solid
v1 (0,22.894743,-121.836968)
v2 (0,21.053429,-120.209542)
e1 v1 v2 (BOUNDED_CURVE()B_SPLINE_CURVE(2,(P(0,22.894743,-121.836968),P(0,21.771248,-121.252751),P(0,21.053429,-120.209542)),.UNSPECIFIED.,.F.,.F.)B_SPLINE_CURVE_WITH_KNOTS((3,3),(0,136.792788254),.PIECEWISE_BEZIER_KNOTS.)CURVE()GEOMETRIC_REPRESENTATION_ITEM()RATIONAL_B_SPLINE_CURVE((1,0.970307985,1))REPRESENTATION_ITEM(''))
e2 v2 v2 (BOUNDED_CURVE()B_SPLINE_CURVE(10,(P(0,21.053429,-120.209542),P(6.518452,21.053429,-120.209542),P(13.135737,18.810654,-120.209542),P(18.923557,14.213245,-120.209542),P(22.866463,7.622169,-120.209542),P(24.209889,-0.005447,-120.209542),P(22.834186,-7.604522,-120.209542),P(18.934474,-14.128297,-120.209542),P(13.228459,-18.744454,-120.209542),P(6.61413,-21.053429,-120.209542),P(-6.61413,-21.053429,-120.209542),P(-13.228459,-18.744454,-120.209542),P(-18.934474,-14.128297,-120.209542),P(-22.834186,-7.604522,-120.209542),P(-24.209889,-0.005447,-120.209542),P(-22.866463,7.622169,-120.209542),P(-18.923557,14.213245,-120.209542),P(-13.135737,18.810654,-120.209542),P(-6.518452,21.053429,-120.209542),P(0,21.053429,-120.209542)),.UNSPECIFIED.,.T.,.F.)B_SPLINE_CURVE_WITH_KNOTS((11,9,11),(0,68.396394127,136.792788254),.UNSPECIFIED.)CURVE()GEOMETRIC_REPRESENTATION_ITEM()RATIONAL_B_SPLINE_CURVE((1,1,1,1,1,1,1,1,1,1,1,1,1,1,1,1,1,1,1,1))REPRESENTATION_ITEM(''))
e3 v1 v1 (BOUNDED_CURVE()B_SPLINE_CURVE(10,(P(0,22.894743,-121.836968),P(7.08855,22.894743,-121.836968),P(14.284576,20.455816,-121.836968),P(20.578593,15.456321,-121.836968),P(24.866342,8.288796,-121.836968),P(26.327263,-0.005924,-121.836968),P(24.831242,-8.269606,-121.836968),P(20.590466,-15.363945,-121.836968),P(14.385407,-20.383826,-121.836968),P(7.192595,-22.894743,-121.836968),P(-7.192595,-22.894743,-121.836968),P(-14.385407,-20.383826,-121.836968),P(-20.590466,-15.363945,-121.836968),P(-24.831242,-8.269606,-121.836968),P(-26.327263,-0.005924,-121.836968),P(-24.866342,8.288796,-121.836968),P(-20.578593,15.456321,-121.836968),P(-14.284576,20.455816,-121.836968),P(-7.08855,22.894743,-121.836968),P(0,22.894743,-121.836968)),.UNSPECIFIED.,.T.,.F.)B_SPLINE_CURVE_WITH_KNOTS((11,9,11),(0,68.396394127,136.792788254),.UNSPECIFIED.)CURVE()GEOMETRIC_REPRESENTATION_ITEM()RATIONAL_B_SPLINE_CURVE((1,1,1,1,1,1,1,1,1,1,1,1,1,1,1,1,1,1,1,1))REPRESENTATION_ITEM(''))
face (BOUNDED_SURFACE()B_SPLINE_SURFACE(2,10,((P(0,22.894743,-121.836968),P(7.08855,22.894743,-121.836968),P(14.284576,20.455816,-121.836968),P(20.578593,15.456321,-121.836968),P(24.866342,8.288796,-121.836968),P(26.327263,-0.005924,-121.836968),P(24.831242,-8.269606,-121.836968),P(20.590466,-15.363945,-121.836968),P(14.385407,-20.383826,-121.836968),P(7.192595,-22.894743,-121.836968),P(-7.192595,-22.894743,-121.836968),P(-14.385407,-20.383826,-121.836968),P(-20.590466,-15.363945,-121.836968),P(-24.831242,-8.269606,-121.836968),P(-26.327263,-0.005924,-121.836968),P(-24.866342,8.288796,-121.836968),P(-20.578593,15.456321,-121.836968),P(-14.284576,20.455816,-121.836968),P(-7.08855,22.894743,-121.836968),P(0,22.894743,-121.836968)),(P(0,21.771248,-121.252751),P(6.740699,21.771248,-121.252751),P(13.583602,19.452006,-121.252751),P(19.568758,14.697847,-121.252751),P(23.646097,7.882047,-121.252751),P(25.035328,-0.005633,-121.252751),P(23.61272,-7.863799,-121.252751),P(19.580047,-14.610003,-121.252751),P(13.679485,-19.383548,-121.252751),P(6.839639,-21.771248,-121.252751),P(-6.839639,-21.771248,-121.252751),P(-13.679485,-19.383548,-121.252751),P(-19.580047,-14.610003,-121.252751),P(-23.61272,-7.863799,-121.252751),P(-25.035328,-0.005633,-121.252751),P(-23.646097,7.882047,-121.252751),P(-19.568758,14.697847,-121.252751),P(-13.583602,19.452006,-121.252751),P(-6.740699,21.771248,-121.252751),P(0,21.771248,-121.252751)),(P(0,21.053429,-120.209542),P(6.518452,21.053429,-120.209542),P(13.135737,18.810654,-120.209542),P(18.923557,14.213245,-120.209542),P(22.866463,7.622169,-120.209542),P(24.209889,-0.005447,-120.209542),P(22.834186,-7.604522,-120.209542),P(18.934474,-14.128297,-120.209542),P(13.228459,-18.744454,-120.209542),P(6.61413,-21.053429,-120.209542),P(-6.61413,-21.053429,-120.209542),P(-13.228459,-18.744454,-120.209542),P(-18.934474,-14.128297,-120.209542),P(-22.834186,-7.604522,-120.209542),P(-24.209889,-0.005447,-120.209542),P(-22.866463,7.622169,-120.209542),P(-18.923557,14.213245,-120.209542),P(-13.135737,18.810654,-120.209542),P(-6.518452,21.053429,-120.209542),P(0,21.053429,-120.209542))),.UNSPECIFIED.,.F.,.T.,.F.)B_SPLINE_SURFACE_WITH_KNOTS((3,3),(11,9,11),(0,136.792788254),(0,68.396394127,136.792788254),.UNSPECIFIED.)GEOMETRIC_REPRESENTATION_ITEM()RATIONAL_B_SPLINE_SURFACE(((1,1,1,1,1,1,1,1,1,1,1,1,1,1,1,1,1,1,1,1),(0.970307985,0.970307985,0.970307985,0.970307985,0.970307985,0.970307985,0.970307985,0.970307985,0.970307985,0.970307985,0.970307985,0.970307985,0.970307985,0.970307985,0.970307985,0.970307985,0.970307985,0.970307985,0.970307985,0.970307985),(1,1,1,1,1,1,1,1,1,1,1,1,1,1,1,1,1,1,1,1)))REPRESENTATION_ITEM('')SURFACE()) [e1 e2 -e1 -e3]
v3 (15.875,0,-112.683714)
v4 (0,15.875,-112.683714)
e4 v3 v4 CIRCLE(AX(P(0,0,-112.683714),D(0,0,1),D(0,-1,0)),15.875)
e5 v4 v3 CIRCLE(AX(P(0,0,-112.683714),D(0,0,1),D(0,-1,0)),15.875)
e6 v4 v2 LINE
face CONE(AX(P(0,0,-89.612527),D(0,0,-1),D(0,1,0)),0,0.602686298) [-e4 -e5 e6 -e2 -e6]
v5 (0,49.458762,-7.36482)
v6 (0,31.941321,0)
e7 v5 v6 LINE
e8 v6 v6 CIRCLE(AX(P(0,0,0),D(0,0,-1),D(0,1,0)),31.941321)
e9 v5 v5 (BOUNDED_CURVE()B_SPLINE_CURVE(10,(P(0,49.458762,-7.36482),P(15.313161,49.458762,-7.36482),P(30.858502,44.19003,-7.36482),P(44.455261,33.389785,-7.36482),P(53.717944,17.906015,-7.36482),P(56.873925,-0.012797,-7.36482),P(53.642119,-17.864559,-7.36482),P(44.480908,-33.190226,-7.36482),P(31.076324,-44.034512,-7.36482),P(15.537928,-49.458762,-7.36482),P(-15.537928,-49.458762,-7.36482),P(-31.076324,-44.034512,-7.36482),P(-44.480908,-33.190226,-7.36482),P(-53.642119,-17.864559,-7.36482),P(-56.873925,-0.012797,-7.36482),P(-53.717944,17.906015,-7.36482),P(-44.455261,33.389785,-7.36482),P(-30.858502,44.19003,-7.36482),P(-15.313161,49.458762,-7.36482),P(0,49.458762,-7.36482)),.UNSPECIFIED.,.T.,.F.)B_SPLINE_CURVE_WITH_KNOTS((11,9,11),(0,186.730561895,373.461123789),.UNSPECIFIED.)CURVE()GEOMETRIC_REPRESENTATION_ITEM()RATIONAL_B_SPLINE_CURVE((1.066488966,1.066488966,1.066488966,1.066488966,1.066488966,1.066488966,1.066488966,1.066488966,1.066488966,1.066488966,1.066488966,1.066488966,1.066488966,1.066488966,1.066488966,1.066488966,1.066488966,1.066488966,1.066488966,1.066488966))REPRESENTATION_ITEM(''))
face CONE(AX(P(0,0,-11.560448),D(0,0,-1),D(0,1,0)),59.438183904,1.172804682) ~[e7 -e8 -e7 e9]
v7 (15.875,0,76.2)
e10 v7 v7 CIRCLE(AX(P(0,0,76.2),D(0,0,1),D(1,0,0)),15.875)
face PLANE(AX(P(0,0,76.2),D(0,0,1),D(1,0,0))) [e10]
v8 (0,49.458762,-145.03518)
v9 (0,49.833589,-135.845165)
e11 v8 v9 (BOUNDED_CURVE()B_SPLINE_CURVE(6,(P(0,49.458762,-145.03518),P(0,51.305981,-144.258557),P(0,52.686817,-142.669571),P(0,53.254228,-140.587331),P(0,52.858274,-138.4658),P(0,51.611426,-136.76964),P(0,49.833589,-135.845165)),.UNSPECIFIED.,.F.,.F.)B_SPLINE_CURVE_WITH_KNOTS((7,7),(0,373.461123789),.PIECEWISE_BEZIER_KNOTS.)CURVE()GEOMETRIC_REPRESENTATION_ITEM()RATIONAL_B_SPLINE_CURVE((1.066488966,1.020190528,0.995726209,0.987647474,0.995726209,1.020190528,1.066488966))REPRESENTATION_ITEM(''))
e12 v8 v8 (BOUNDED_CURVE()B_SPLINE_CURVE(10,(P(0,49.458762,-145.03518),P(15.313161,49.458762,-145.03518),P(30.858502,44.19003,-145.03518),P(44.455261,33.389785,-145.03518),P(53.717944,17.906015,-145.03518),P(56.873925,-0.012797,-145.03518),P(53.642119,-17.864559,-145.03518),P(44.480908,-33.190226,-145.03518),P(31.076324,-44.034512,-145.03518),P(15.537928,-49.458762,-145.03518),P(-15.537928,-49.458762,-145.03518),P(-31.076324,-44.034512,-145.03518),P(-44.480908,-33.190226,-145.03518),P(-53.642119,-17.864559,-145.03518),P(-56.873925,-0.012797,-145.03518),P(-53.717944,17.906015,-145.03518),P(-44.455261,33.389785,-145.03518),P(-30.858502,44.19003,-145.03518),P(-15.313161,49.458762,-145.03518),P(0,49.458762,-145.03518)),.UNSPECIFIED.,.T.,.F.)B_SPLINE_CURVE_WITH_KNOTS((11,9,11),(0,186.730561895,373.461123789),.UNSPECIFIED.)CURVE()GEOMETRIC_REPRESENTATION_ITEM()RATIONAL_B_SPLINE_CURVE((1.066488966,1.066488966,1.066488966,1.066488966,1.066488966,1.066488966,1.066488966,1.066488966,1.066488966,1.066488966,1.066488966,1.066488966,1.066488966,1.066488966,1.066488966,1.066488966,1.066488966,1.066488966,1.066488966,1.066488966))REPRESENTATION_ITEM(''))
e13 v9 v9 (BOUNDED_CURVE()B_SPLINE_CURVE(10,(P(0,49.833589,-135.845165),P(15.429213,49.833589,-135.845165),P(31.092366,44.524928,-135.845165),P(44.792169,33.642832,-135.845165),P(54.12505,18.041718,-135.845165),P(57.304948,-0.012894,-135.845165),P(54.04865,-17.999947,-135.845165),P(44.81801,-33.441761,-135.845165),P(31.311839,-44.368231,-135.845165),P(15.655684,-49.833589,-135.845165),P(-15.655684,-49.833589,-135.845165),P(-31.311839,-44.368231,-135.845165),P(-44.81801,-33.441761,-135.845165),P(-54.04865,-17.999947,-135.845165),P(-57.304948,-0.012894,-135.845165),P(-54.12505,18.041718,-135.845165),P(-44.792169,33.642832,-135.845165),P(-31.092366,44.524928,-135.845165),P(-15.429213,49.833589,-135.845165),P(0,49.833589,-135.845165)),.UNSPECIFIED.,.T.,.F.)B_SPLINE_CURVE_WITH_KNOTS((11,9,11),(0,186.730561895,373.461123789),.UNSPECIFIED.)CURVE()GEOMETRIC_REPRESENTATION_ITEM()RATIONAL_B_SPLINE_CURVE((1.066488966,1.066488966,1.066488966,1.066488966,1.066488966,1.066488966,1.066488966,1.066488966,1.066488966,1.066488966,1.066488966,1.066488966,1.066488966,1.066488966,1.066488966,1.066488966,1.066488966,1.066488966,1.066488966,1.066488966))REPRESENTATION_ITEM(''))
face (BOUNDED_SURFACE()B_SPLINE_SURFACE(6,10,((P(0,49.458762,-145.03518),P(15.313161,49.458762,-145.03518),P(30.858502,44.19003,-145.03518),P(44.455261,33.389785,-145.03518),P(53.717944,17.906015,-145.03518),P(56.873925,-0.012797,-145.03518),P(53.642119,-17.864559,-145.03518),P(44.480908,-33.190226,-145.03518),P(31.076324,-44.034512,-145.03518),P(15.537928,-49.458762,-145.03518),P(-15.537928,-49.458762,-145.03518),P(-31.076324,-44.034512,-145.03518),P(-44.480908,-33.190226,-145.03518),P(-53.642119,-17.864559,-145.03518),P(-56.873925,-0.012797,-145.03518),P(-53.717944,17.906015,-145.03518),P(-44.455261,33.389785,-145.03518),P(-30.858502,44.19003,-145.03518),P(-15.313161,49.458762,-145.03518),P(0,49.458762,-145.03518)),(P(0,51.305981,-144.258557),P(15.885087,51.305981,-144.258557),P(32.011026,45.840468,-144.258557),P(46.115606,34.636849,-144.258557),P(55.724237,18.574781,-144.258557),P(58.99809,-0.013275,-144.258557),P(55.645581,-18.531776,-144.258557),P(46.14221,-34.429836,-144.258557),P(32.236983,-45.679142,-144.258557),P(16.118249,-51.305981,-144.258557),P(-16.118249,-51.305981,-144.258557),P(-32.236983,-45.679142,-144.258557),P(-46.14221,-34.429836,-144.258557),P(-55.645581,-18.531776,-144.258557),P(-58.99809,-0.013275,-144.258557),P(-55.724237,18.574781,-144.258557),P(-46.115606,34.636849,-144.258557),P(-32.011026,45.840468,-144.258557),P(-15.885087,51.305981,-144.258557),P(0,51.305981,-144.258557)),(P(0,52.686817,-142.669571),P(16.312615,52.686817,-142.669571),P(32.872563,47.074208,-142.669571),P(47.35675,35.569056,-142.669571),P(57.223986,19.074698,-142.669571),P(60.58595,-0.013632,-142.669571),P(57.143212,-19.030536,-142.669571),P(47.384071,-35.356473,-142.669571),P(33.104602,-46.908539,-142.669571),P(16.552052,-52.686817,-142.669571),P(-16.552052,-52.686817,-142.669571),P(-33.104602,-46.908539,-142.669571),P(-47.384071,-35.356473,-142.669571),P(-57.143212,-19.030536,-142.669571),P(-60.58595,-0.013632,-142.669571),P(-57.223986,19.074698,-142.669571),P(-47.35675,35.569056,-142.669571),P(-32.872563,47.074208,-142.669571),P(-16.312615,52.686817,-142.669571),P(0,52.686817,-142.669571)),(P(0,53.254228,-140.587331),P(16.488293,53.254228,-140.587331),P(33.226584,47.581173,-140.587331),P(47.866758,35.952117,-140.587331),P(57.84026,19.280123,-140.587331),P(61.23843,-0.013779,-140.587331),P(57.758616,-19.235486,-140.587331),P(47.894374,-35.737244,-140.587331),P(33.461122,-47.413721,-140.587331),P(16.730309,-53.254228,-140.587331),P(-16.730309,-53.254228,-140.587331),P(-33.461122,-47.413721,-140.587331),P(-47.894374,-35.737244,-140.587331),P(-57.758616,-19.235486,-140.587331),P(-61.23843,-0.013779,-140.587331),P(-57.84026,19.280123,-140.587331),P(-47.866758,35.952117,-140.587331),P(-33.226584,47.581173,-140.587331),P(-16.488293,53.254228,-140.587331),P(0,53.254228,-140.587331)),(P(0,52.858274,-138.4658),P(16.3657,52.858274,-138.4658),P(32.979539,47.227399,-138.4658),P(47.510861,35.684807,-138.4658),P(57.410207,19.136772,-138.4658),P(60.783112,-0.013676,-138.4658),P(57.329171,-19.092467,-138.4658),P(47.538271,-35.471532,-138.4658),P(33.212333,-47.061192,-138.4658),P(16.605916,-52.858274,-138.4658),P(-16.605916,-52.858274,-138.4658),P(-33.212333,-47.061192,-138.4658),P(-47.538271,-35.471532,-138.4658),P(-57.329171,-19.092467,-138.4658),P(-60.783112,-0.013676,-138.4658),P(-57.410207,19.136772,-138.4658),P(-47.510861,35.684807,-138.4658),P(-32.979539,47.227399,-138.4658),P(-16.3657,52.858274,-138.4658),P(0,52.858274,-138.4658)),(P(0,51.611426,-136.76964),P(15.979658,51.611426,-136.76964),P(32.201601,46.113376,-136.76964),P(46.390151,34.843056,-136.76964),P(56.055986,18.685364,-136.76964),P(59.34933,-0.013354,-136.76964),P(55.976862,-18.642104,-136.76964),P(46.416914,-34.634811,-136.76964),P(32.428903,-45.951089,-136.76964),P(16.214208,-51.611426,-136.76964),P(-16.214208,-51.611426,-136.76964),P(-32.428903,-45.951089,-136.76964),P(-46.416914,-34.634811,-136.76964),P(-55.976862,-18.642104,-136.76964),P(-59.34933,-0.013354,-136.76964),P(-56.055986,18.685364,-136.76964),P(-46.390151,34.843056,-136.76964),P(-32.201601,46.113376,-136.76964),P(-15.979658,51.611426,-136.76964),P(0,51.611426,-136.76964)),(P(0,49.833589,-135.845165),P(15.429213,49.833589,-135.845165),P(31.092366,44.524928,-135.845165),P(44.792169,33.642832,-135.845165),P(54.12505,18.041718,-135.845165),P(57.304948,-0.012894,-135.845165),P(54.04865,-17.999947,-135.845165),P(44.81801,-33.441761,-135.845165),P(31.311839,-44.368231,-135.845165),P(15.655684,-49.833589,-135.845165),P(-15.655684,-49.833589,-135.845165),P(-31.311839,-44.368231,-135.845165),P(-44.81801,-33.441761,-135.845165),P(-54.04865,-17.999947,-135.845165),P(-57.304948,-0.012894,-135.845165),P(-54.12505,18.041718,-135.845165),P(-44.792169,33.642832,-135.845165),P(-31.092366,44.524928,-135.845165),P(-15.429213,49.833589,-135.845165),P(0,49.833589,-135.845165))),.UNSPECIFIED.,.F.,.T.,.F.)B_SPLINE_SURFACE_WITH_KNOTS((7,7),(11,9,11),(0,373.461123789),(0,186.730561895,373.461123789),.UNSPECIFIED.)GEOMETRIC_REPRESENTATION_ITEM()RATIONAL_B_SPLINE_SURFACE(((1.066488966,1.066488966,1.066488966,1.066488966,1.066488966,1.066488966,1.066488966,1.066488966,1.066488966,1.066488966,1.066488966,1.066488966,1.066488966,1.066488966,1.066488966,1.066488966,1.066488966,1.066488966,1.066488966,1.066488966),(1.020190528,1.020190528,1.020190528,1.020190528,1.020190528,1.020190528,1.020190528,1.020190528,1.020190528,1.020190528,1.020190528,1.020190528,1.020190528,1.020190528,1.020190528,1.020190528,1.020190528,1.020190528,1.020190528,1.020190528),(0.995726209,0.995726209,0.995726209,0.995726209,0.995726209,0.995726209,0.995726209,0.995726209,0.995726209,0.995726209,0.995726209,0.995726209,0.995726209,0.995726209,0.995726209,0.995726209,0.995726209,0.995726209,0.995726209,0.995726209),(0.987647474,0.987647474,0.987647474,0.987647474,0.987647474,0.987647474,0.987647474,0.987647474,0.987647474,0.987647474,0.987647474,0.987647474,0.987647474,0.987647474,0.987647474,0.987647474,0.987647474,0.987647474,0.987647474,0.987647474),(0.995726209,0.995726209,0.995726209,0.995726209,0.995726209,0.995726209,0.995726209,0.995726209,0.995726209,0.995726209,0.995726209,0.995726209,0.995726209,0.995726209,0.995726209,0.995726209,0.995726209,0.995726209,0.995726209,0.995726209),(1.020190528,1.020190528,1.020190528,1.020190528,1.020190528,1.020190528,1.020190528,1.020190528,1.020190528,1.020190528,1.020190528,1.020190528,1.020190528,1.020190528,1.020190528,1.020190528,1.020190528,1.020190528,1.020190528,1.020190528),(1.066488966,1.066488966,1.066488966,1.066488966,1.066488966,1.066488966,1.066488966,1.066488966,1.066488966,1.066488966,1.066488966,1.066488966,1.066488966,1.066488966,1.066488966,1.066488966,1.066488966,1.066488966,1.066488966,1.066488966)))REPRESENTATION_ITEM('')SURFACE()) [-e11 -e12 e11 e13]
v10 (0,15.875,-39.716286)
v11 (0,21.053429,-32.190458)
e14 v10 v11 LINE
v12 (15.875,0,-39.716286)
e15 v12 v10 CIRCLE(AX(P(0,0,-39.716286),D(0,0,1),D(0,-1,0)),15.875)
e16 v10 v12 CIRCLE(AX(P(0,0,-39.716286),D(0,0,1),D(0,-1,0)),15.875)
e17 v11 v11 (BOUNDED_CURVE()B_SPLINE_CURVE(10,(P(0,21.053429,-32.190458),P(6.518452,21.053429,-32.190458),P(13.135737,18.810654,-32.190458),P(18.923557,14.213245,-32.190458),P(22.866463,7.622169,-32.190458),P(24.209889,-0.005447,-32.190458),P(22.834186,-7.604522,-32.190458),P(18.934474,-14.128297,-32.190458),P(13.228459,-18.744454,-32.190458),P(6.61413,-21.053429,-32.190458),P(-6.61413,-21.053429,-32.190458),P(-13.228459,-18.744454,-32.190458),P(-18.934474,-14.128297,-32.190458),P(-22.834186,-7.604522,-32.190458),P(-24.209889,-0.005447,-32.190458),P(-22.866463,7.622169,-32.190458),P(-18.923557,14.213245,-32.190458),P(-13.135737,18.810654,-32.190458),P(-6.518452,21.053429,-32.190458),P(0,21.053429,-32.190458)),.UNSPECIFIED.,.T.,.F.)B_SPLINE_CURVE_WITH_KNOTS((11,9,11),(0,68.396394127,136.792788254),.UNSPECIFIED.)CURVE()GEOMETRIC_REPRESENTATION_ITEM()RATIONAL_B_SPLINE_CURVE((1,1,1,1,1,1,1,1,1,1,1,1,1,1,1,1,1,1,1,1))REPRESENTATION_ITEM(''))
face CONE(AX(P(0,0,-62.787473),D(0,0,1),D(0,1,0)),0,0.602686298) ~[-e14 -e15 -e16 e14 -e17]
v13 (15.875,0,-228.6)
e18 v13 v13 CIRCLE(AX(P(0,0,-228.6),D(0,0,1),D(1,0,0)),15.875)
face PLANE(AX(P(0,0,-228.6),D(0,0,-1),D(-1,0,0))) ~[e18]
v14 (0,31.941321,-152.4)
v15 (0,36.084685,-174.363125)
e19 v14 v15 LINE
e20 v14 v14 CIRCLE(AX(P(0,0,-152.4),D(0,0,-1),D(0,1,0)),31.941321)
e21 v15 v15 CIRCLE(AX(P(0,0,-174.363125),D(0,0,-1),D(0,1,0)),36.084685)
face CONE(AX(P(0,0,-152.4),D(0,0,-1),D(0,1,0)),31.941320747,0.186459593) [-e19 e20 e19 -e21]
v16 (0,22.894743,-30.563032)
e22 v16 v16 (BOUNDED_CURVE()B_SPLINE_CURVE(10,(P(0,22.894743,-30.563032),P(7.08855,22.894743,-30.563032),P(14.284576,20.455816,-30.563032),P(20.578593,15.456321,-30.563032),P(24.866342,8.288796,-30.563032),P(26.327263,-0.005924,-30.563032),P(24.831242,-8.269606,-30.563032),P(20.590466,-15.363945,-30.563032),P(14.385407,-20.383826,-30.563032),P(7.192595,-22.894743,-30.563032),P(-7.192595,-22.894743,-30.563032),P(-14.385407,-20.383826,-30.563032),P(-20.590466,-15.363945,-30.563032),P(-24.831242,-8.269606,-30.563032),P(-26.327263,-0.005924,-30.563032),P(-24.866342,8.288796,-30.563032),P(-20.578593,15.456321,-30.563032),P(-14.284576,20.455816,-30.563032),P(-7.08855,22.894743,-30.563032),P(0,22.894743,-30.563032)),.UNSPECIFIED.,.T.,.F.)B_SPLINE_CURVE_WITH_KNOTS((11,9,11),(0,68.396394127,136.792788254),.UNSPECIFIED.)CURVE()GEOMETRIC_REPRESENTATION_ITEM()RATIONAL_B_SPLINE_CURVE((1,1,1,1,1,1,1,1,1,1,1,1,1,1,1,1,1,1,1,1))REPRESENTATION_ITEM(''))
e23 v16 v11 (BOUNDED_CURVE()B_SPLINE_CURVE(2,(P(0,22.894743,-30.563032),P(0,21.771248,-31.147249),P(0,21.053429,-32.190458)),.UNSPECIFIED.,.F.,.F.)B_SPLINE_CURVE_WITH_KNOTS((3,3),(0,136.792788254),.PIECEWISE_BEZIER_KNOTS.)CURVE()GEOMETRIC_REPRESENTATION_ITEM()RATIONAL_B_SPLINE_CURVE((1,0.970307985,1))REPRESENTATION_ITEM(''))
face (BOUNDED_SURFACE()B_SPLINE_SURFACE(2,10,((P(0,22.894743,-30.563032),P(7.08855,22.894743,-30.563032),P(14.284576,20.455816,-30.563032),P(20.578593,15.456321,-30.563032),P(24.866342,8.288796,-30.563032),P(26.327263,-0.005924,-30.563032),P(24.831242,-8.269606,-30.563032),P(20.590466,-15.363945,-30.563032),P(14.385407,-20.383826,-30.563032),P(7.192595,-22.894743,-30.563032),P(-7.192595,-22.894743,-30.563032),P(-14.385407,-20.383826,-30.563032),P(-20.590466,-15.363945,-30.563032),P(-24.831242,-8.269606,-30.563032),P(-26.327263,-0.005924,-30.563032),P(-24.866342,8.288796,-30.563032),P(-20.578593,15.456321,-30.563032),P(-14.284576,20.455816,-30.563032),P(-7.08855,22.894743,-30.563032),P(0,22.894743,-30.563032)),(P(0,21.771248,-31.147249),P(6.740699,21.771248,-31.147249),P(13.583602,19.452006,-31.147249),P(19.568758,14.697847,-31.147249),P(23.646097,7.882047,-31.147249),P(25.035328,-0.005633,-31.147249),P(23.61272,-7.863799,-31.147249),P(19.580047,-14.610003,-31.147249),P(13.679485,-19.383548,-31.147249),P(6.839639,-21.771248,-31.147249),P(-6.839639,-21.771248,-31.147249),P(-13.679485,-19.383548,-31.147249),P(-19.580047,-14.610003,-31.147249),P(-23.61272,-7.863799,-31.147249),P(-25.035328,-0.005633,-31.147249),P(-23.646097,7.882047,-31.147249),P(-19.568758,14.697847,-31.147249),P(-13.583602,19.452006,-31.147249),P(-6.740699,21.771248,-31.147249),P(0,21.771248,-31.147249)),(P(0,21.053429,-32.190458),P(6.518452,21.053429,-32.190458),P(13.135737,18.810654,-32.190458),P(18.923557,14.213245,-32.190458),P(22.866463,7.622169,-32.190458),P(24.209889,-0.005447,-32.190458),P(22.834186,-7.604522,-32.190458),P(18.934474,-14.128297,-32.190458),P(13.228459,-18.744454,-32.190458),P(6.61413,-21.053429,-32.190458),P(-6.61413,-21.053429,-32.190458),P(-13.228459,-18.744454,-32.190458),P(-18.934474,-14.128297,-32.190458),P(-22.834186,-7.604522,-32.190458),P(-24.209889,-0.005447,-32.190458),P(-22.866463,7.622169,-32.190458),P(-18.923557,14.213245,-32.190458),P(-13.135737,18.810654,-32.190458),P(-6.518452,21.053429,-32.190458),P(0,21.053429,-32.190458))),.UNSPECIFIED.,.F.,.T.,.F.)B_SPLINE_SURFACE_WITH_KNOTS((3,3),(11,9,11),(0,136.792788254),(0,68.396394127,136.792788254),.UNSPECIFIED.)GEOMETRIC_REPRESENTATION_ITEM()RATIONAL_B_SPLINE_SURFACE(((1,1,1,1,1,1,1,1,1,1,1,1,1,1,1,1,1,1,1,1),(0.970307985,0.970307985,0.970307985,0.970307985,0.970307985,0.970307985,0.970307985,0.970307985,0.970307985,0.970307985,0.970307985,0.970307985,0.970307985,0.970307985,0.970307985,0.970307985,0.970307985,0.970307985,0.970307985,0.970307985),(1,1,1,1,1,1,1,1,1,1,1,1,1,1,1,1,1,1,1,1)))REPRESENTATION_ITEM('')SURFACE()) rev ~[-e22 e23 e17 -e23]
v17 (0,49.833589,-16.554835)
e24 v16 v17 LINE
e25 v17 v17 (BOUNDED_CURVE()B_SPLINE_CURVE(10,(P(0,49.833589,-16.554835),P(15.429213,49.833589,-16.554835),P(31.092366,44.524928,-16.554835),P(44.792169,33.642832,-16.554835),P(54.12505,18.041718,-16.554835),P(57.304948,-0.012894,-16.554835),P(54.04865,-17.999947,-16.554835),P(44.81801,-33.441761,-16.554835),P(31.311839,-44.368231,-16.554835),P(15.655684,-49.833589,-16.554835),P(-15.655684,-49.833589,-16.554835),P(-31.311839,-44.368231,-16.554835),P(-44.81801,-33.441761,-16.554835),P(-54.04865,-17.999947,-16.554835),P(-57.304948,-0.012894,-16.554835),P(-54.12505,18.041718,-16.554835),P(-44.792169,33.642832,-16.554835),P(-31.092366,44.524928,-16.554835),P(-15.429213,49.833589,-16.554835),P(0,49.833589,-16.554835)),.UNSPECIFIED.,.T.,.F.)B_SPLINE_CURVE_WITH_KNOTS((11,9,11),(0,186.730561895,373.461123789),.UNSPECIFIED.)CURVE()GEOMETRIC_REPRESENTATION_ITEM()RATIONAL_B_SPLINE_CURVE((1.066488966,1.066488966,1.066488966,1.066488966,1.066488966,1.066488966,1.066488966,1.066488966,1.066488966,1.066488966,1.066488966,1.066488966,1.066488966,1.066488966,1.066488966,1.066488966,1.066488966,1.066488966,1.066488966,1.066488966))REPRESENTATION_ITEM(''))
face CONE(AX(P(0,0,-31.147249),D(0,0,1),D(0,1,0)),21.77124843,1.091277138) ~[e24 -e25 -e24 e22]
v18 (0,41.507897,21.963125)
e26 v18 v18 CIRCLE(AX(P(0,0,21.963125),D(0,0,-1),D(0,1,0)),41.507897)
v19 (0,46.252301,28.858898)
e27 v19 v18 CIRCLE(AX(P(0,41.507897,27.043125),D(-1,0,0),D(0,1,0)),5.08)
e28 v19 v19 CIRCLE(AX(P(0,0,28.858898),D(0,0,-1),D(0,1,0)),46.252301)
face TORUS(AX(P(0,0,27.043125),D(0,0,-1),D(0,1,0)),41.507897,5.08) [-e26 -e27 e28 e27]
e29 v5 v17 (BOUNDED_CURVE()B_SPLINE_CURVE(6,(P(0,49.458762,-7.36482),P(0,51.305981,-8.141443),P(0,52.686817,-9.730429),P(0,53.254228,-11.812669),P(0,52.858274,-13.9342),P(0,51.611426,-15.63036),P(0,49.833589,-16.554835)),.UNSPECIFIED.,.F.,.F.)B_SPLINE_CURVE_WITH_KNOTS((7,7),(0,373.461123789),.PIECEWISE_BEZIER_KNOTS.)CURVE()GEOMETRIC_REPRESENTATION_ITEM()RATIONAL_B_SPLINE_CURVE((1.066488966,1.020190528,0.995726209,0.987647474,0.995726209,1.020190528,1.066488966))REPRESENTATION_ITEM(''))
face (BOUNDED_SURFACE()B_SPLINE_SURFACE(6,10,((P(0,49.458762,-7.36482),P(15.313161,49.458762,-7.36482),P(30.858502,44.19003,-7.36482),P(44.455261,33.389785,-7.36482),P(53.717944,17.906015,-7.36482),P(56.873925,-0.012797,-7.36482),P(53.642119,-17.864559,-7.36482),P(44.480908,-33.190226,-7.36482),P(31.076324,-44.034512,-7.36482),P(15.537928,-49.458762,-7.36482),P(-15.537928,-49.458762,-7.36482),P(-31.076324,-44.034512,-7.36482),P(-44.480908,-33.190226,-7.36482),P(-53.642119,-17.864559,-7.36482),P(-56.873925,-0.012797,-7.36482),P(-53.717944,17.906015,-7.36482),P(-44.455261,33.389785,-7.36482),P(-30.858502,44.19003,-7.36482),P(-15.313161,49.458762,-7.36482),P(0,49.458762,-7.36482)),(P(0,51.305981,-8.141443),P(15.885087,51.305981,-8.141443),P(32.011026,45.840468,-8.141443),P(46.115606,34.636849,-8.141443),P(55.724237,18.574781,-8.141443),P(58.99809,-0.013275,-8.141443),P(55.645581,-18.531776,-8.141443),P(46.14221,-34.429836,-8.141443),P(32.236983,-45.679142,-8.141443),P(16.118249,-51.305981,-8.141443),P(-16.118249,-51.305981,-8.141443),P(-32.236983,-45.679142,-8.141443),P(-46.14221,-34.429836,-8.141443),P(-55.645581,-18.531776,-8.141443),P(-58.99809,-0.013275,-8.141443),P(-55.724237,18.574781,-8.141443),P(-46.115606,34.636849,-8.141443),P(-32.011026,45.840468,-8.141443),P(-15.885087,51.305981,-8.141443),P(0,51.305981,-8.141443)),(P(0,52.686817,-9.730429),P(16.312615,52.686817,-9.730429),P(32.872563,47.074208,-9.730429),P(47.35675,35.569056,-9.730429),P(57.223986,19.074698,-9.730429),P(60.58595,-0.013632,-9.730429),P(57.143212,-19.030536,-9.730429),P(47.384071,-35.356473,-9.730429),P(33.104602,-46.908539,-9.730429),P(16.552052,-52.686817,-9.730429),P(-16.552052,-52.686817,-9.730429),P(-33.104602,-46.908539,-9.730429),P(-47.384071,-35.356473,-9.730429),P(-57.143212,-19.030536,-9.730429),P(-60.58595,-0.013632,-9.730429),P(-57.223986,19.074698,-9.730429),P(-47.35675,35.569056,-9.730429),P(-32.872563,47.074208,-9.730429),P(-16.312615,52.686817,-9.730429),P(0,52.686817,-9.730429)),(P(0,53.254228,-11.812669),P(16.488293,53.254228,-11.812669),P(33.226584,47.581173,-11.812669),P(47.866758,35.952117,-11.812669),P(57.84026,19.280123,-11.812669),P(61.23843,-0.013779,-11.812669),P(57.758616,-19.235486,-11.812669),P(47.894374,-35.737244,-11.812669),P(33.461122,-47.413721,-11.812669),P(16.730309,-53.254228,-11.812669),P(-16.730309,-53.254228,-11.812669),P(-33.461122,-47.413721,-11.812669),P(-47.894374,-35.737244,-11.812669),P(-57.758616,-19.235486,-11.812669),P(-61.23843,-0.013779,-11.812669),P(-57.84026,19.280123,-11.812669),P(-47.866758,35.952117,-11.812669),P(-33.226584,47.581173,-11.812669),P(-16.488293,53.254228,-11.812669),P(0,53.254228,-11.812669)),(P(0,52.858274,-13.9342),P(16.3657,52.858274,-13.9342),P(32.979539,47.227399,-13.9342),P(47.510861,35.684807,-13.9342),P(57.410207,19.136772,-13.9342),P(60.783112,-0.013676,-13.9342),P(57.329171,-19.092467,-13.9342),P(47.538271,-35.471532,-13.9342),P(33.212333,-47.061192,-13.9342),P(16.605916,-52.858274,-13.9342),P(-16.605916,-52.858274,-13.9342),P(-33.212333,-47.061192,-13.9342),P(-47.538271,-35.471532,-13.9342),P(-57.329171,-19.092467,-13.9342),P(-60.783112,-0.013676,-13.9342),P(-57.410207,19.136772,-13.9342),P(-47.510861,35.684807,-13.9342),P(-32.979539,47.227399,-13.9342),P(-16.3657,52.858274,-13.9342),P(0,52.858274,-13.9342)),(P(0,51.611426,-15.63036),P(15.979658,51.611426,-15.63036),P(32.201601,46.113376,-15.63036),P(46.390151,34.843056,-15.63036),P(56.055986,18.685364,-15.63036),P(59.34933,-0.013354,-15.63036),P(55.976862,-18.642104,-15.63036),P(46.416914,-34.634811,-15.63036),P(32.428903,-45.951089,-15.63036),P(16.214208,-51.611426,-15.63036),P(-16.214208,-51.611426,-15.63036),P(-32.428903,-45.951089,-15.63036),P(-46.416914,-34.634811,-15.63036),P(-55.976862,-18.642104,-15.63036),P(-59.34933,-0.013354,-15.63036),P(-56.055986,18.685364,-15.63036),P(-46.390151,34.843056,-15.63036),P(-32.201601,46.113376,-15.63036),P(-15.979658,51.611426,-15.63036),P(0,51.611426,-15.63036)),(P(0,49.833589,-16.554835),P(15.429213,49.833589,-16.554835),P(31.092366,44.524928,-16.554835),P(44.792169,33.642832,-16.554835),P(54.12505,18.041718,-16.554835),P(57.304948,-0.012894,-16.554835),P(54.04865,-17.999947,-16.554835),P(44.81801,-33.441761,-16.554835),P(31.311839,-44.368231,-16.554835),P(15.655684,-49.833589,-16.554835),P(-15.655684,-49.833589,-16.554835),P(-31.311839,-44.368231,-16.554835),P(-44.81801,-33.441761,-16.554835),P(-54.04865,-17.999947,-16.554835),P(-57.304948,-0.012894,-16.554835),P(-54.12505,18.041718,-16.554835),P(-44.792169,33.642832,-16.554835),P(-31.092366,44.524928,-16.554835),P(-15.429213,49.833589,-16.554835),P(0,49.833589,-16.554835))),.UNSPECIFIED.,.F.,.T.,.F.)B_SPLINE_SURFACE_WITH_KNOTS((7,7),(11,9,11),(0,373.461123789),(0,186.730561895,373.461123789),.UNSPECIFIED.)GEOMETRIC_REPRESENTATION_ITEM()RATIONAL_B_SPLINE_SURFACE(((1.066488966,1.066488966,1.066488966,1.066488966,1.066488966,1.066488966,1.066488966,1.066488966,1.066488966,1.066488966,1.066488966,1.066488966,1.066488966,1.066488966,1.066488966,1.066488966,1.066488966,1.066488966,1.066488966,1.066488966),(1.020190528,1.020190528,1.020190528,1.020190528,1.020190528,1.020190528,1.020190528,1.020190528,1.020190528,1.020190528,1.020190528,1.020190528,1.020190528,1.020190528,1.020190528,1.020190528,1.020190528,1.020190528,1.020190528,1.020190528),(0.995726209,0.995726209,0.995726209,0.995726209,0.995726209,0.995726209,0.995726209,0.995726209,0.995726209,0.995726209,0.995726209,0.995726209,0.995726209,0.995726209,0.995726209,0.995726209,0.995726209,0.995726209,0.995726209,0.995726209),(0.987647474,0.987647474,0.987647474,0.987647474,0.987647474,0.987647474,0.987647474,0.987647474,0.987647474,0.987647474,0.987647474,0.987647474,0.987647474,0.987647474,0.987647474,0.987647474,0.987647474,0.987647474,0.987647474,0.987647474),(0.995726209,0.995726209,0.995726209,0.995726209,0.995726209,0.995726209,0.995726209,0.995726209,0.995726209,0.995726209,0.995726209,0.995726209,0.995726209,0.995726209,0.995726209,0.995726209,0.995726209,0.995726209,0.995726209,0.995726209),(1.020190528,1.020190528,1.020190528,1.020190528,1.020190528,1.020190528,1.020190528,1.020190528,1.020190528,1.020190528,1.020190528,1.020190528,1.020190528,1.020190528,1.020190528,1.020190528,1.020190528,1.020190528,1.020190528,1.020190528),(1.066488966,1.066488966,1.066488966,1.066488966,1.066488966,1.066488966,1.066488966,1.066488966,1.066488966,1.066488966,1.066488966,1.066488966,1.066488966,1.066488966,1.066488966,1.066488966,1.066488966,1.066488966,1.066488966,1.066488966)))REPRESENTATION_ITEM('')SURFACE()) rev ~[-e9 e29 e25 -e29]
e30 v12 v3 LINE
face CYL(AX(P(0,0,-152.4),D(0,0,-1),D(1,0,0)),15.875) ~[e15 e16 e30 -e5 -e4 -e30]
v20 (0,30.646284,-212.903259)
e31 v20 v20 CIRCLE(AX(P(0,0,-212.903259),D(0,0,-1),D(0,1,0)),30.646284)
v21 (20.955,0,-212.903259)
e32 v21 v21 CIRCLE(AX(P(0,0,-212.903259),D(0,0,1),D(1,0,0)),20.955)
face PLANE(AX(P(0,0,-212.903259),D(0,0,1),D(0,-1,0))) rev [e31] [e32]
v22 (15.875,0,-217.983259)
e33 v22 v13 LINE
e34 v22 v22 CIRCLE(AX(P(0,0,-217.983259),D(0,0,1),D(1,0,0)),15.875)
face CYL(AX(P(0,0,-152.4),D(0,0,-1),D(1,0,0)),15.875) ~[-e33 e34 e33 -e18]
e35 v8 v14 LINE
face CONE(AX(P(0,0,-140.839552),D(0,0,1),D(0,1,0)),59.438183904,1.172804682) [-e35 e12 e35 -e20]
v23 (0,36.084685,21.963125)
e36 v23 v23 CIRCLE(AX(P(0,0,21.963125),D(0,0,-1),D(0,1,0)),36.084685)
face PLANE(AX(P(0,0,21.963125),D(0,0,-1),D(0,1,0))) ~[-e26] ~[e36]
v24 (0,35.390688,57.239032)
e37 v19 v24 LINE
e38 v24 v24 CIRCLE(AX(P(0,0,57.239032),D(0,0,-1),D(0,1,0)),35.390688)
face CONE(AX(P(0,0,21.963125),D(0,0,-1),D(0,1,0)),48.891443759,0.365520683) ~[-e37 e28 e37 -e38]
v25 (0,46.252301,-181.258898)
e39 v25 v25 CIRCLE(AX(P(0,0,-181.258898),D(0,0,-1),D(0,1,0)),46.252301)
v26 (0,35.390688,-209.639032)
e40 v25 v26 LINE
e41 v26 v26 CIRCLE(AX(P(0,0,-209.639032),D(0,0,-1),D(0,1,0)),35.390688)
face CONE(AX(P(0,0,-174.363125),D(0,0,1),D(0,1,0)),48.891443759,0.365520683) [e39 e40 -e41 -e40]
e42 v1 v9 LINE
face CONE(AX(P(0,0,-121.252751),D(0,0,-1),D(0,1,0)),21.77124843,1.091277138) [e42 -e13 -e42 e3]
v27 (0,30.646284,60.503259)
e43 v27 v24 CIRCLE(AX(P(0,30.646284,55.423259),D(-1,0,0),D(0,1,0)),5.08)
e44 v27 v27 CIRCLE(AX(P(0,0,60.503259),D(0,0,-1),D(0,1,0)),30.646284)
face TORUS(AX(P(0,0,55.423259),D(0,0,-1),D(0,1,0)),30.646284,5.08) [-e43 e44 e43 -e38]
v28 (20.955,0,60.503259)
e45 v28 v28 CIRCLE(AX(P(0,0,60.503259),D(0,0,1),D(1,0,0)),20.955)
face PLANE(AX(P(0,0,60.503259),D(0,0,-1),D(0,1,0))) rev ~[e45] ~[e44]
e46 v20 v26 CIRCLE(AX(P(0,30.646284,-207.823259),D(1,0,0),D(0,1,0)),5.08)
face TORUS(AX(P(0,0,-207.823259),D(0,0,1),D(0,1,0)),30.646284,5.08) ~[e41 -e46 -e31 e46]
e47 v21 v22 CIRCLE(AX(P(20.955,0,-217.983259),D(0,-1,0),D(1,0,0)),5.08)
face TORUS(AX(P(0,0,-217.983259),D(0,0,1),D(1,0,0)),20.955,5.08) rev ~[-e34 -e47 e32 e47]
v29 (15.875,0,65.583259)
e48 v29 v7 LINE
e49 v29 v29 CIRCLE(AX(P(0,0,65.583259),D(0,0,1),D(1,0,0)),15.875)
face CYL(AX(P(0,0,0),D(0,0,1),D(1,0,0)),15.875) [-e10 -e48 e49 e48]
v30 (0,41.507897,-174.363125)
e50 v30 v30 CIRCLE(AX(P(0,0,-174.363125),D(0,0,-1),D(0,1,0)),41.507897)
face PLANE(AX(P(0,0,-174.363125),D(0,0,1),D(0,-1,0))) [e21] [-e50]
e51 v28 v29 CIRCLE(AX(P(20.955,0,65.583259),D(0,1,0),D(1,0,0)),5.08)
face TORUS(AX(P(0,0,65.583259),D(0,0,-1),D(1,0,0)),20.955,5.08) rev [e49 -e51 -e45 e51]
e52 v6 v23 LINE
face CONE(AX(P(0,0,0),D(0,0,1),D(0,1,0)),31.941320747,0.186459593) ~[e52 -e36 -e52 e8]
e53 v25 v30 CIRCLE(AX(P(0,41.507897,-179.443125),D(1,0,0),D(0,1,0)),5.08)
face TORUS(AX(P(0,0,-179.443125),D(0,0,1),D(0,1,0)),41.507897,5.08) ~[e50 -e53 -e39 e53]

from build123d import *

# Parameters (mm, degrees)
F0_R     = 15.875
F1_DEPTH = 76.2
F5_R     = 5.08


with BuildPart() as f1:
    # F0 (on Top) → F1 (new body, symmetric)
    with BuildSketch(Plane.XY):
        Circle(F0_R)
    extrude(amount=F1_DEPTH, both=True)

    # F3 (on Right) → F4 (revolve)
    with BuildSketch(Plane.YZ):
        Polygon((34.1414064169, 60.5032593012), (0, 60.5032593012), (0, -62.7874732018), (21.77124843, -31.147249043), (59.4381839037, -11.5604475141), (31.9413207471, 0), (36.0846854746, 21.9631250948), (48.8914437592, 21.9631250948), align=None)
    revolve(axis=Axis((0, 0, -37.18399629), (0, 0, -1)))

    # F5
    f5_edges = [f1.edges().sort_by_distance(p)[0] for p in [
        (0, -34.141406, 60.503259),
        (-15.875, 0, 60.503259),
        (0, -48.891444, 21.963125),
        (0, -59.438184, -11.560448),
        (0, -21.771248, -31.147249),
    ]]
    fillet(f5_edges, radius=F5_R)

    # F6: F1 across face


with BuildPart() as f1_1:
    add(f1.part)
    add(f1.part.mirror(Plane(origin=(0, 0, -76.2), x_dir=(1, 0, 0), z_dir=(0, 0, -1))))


solid = f1_1.part
